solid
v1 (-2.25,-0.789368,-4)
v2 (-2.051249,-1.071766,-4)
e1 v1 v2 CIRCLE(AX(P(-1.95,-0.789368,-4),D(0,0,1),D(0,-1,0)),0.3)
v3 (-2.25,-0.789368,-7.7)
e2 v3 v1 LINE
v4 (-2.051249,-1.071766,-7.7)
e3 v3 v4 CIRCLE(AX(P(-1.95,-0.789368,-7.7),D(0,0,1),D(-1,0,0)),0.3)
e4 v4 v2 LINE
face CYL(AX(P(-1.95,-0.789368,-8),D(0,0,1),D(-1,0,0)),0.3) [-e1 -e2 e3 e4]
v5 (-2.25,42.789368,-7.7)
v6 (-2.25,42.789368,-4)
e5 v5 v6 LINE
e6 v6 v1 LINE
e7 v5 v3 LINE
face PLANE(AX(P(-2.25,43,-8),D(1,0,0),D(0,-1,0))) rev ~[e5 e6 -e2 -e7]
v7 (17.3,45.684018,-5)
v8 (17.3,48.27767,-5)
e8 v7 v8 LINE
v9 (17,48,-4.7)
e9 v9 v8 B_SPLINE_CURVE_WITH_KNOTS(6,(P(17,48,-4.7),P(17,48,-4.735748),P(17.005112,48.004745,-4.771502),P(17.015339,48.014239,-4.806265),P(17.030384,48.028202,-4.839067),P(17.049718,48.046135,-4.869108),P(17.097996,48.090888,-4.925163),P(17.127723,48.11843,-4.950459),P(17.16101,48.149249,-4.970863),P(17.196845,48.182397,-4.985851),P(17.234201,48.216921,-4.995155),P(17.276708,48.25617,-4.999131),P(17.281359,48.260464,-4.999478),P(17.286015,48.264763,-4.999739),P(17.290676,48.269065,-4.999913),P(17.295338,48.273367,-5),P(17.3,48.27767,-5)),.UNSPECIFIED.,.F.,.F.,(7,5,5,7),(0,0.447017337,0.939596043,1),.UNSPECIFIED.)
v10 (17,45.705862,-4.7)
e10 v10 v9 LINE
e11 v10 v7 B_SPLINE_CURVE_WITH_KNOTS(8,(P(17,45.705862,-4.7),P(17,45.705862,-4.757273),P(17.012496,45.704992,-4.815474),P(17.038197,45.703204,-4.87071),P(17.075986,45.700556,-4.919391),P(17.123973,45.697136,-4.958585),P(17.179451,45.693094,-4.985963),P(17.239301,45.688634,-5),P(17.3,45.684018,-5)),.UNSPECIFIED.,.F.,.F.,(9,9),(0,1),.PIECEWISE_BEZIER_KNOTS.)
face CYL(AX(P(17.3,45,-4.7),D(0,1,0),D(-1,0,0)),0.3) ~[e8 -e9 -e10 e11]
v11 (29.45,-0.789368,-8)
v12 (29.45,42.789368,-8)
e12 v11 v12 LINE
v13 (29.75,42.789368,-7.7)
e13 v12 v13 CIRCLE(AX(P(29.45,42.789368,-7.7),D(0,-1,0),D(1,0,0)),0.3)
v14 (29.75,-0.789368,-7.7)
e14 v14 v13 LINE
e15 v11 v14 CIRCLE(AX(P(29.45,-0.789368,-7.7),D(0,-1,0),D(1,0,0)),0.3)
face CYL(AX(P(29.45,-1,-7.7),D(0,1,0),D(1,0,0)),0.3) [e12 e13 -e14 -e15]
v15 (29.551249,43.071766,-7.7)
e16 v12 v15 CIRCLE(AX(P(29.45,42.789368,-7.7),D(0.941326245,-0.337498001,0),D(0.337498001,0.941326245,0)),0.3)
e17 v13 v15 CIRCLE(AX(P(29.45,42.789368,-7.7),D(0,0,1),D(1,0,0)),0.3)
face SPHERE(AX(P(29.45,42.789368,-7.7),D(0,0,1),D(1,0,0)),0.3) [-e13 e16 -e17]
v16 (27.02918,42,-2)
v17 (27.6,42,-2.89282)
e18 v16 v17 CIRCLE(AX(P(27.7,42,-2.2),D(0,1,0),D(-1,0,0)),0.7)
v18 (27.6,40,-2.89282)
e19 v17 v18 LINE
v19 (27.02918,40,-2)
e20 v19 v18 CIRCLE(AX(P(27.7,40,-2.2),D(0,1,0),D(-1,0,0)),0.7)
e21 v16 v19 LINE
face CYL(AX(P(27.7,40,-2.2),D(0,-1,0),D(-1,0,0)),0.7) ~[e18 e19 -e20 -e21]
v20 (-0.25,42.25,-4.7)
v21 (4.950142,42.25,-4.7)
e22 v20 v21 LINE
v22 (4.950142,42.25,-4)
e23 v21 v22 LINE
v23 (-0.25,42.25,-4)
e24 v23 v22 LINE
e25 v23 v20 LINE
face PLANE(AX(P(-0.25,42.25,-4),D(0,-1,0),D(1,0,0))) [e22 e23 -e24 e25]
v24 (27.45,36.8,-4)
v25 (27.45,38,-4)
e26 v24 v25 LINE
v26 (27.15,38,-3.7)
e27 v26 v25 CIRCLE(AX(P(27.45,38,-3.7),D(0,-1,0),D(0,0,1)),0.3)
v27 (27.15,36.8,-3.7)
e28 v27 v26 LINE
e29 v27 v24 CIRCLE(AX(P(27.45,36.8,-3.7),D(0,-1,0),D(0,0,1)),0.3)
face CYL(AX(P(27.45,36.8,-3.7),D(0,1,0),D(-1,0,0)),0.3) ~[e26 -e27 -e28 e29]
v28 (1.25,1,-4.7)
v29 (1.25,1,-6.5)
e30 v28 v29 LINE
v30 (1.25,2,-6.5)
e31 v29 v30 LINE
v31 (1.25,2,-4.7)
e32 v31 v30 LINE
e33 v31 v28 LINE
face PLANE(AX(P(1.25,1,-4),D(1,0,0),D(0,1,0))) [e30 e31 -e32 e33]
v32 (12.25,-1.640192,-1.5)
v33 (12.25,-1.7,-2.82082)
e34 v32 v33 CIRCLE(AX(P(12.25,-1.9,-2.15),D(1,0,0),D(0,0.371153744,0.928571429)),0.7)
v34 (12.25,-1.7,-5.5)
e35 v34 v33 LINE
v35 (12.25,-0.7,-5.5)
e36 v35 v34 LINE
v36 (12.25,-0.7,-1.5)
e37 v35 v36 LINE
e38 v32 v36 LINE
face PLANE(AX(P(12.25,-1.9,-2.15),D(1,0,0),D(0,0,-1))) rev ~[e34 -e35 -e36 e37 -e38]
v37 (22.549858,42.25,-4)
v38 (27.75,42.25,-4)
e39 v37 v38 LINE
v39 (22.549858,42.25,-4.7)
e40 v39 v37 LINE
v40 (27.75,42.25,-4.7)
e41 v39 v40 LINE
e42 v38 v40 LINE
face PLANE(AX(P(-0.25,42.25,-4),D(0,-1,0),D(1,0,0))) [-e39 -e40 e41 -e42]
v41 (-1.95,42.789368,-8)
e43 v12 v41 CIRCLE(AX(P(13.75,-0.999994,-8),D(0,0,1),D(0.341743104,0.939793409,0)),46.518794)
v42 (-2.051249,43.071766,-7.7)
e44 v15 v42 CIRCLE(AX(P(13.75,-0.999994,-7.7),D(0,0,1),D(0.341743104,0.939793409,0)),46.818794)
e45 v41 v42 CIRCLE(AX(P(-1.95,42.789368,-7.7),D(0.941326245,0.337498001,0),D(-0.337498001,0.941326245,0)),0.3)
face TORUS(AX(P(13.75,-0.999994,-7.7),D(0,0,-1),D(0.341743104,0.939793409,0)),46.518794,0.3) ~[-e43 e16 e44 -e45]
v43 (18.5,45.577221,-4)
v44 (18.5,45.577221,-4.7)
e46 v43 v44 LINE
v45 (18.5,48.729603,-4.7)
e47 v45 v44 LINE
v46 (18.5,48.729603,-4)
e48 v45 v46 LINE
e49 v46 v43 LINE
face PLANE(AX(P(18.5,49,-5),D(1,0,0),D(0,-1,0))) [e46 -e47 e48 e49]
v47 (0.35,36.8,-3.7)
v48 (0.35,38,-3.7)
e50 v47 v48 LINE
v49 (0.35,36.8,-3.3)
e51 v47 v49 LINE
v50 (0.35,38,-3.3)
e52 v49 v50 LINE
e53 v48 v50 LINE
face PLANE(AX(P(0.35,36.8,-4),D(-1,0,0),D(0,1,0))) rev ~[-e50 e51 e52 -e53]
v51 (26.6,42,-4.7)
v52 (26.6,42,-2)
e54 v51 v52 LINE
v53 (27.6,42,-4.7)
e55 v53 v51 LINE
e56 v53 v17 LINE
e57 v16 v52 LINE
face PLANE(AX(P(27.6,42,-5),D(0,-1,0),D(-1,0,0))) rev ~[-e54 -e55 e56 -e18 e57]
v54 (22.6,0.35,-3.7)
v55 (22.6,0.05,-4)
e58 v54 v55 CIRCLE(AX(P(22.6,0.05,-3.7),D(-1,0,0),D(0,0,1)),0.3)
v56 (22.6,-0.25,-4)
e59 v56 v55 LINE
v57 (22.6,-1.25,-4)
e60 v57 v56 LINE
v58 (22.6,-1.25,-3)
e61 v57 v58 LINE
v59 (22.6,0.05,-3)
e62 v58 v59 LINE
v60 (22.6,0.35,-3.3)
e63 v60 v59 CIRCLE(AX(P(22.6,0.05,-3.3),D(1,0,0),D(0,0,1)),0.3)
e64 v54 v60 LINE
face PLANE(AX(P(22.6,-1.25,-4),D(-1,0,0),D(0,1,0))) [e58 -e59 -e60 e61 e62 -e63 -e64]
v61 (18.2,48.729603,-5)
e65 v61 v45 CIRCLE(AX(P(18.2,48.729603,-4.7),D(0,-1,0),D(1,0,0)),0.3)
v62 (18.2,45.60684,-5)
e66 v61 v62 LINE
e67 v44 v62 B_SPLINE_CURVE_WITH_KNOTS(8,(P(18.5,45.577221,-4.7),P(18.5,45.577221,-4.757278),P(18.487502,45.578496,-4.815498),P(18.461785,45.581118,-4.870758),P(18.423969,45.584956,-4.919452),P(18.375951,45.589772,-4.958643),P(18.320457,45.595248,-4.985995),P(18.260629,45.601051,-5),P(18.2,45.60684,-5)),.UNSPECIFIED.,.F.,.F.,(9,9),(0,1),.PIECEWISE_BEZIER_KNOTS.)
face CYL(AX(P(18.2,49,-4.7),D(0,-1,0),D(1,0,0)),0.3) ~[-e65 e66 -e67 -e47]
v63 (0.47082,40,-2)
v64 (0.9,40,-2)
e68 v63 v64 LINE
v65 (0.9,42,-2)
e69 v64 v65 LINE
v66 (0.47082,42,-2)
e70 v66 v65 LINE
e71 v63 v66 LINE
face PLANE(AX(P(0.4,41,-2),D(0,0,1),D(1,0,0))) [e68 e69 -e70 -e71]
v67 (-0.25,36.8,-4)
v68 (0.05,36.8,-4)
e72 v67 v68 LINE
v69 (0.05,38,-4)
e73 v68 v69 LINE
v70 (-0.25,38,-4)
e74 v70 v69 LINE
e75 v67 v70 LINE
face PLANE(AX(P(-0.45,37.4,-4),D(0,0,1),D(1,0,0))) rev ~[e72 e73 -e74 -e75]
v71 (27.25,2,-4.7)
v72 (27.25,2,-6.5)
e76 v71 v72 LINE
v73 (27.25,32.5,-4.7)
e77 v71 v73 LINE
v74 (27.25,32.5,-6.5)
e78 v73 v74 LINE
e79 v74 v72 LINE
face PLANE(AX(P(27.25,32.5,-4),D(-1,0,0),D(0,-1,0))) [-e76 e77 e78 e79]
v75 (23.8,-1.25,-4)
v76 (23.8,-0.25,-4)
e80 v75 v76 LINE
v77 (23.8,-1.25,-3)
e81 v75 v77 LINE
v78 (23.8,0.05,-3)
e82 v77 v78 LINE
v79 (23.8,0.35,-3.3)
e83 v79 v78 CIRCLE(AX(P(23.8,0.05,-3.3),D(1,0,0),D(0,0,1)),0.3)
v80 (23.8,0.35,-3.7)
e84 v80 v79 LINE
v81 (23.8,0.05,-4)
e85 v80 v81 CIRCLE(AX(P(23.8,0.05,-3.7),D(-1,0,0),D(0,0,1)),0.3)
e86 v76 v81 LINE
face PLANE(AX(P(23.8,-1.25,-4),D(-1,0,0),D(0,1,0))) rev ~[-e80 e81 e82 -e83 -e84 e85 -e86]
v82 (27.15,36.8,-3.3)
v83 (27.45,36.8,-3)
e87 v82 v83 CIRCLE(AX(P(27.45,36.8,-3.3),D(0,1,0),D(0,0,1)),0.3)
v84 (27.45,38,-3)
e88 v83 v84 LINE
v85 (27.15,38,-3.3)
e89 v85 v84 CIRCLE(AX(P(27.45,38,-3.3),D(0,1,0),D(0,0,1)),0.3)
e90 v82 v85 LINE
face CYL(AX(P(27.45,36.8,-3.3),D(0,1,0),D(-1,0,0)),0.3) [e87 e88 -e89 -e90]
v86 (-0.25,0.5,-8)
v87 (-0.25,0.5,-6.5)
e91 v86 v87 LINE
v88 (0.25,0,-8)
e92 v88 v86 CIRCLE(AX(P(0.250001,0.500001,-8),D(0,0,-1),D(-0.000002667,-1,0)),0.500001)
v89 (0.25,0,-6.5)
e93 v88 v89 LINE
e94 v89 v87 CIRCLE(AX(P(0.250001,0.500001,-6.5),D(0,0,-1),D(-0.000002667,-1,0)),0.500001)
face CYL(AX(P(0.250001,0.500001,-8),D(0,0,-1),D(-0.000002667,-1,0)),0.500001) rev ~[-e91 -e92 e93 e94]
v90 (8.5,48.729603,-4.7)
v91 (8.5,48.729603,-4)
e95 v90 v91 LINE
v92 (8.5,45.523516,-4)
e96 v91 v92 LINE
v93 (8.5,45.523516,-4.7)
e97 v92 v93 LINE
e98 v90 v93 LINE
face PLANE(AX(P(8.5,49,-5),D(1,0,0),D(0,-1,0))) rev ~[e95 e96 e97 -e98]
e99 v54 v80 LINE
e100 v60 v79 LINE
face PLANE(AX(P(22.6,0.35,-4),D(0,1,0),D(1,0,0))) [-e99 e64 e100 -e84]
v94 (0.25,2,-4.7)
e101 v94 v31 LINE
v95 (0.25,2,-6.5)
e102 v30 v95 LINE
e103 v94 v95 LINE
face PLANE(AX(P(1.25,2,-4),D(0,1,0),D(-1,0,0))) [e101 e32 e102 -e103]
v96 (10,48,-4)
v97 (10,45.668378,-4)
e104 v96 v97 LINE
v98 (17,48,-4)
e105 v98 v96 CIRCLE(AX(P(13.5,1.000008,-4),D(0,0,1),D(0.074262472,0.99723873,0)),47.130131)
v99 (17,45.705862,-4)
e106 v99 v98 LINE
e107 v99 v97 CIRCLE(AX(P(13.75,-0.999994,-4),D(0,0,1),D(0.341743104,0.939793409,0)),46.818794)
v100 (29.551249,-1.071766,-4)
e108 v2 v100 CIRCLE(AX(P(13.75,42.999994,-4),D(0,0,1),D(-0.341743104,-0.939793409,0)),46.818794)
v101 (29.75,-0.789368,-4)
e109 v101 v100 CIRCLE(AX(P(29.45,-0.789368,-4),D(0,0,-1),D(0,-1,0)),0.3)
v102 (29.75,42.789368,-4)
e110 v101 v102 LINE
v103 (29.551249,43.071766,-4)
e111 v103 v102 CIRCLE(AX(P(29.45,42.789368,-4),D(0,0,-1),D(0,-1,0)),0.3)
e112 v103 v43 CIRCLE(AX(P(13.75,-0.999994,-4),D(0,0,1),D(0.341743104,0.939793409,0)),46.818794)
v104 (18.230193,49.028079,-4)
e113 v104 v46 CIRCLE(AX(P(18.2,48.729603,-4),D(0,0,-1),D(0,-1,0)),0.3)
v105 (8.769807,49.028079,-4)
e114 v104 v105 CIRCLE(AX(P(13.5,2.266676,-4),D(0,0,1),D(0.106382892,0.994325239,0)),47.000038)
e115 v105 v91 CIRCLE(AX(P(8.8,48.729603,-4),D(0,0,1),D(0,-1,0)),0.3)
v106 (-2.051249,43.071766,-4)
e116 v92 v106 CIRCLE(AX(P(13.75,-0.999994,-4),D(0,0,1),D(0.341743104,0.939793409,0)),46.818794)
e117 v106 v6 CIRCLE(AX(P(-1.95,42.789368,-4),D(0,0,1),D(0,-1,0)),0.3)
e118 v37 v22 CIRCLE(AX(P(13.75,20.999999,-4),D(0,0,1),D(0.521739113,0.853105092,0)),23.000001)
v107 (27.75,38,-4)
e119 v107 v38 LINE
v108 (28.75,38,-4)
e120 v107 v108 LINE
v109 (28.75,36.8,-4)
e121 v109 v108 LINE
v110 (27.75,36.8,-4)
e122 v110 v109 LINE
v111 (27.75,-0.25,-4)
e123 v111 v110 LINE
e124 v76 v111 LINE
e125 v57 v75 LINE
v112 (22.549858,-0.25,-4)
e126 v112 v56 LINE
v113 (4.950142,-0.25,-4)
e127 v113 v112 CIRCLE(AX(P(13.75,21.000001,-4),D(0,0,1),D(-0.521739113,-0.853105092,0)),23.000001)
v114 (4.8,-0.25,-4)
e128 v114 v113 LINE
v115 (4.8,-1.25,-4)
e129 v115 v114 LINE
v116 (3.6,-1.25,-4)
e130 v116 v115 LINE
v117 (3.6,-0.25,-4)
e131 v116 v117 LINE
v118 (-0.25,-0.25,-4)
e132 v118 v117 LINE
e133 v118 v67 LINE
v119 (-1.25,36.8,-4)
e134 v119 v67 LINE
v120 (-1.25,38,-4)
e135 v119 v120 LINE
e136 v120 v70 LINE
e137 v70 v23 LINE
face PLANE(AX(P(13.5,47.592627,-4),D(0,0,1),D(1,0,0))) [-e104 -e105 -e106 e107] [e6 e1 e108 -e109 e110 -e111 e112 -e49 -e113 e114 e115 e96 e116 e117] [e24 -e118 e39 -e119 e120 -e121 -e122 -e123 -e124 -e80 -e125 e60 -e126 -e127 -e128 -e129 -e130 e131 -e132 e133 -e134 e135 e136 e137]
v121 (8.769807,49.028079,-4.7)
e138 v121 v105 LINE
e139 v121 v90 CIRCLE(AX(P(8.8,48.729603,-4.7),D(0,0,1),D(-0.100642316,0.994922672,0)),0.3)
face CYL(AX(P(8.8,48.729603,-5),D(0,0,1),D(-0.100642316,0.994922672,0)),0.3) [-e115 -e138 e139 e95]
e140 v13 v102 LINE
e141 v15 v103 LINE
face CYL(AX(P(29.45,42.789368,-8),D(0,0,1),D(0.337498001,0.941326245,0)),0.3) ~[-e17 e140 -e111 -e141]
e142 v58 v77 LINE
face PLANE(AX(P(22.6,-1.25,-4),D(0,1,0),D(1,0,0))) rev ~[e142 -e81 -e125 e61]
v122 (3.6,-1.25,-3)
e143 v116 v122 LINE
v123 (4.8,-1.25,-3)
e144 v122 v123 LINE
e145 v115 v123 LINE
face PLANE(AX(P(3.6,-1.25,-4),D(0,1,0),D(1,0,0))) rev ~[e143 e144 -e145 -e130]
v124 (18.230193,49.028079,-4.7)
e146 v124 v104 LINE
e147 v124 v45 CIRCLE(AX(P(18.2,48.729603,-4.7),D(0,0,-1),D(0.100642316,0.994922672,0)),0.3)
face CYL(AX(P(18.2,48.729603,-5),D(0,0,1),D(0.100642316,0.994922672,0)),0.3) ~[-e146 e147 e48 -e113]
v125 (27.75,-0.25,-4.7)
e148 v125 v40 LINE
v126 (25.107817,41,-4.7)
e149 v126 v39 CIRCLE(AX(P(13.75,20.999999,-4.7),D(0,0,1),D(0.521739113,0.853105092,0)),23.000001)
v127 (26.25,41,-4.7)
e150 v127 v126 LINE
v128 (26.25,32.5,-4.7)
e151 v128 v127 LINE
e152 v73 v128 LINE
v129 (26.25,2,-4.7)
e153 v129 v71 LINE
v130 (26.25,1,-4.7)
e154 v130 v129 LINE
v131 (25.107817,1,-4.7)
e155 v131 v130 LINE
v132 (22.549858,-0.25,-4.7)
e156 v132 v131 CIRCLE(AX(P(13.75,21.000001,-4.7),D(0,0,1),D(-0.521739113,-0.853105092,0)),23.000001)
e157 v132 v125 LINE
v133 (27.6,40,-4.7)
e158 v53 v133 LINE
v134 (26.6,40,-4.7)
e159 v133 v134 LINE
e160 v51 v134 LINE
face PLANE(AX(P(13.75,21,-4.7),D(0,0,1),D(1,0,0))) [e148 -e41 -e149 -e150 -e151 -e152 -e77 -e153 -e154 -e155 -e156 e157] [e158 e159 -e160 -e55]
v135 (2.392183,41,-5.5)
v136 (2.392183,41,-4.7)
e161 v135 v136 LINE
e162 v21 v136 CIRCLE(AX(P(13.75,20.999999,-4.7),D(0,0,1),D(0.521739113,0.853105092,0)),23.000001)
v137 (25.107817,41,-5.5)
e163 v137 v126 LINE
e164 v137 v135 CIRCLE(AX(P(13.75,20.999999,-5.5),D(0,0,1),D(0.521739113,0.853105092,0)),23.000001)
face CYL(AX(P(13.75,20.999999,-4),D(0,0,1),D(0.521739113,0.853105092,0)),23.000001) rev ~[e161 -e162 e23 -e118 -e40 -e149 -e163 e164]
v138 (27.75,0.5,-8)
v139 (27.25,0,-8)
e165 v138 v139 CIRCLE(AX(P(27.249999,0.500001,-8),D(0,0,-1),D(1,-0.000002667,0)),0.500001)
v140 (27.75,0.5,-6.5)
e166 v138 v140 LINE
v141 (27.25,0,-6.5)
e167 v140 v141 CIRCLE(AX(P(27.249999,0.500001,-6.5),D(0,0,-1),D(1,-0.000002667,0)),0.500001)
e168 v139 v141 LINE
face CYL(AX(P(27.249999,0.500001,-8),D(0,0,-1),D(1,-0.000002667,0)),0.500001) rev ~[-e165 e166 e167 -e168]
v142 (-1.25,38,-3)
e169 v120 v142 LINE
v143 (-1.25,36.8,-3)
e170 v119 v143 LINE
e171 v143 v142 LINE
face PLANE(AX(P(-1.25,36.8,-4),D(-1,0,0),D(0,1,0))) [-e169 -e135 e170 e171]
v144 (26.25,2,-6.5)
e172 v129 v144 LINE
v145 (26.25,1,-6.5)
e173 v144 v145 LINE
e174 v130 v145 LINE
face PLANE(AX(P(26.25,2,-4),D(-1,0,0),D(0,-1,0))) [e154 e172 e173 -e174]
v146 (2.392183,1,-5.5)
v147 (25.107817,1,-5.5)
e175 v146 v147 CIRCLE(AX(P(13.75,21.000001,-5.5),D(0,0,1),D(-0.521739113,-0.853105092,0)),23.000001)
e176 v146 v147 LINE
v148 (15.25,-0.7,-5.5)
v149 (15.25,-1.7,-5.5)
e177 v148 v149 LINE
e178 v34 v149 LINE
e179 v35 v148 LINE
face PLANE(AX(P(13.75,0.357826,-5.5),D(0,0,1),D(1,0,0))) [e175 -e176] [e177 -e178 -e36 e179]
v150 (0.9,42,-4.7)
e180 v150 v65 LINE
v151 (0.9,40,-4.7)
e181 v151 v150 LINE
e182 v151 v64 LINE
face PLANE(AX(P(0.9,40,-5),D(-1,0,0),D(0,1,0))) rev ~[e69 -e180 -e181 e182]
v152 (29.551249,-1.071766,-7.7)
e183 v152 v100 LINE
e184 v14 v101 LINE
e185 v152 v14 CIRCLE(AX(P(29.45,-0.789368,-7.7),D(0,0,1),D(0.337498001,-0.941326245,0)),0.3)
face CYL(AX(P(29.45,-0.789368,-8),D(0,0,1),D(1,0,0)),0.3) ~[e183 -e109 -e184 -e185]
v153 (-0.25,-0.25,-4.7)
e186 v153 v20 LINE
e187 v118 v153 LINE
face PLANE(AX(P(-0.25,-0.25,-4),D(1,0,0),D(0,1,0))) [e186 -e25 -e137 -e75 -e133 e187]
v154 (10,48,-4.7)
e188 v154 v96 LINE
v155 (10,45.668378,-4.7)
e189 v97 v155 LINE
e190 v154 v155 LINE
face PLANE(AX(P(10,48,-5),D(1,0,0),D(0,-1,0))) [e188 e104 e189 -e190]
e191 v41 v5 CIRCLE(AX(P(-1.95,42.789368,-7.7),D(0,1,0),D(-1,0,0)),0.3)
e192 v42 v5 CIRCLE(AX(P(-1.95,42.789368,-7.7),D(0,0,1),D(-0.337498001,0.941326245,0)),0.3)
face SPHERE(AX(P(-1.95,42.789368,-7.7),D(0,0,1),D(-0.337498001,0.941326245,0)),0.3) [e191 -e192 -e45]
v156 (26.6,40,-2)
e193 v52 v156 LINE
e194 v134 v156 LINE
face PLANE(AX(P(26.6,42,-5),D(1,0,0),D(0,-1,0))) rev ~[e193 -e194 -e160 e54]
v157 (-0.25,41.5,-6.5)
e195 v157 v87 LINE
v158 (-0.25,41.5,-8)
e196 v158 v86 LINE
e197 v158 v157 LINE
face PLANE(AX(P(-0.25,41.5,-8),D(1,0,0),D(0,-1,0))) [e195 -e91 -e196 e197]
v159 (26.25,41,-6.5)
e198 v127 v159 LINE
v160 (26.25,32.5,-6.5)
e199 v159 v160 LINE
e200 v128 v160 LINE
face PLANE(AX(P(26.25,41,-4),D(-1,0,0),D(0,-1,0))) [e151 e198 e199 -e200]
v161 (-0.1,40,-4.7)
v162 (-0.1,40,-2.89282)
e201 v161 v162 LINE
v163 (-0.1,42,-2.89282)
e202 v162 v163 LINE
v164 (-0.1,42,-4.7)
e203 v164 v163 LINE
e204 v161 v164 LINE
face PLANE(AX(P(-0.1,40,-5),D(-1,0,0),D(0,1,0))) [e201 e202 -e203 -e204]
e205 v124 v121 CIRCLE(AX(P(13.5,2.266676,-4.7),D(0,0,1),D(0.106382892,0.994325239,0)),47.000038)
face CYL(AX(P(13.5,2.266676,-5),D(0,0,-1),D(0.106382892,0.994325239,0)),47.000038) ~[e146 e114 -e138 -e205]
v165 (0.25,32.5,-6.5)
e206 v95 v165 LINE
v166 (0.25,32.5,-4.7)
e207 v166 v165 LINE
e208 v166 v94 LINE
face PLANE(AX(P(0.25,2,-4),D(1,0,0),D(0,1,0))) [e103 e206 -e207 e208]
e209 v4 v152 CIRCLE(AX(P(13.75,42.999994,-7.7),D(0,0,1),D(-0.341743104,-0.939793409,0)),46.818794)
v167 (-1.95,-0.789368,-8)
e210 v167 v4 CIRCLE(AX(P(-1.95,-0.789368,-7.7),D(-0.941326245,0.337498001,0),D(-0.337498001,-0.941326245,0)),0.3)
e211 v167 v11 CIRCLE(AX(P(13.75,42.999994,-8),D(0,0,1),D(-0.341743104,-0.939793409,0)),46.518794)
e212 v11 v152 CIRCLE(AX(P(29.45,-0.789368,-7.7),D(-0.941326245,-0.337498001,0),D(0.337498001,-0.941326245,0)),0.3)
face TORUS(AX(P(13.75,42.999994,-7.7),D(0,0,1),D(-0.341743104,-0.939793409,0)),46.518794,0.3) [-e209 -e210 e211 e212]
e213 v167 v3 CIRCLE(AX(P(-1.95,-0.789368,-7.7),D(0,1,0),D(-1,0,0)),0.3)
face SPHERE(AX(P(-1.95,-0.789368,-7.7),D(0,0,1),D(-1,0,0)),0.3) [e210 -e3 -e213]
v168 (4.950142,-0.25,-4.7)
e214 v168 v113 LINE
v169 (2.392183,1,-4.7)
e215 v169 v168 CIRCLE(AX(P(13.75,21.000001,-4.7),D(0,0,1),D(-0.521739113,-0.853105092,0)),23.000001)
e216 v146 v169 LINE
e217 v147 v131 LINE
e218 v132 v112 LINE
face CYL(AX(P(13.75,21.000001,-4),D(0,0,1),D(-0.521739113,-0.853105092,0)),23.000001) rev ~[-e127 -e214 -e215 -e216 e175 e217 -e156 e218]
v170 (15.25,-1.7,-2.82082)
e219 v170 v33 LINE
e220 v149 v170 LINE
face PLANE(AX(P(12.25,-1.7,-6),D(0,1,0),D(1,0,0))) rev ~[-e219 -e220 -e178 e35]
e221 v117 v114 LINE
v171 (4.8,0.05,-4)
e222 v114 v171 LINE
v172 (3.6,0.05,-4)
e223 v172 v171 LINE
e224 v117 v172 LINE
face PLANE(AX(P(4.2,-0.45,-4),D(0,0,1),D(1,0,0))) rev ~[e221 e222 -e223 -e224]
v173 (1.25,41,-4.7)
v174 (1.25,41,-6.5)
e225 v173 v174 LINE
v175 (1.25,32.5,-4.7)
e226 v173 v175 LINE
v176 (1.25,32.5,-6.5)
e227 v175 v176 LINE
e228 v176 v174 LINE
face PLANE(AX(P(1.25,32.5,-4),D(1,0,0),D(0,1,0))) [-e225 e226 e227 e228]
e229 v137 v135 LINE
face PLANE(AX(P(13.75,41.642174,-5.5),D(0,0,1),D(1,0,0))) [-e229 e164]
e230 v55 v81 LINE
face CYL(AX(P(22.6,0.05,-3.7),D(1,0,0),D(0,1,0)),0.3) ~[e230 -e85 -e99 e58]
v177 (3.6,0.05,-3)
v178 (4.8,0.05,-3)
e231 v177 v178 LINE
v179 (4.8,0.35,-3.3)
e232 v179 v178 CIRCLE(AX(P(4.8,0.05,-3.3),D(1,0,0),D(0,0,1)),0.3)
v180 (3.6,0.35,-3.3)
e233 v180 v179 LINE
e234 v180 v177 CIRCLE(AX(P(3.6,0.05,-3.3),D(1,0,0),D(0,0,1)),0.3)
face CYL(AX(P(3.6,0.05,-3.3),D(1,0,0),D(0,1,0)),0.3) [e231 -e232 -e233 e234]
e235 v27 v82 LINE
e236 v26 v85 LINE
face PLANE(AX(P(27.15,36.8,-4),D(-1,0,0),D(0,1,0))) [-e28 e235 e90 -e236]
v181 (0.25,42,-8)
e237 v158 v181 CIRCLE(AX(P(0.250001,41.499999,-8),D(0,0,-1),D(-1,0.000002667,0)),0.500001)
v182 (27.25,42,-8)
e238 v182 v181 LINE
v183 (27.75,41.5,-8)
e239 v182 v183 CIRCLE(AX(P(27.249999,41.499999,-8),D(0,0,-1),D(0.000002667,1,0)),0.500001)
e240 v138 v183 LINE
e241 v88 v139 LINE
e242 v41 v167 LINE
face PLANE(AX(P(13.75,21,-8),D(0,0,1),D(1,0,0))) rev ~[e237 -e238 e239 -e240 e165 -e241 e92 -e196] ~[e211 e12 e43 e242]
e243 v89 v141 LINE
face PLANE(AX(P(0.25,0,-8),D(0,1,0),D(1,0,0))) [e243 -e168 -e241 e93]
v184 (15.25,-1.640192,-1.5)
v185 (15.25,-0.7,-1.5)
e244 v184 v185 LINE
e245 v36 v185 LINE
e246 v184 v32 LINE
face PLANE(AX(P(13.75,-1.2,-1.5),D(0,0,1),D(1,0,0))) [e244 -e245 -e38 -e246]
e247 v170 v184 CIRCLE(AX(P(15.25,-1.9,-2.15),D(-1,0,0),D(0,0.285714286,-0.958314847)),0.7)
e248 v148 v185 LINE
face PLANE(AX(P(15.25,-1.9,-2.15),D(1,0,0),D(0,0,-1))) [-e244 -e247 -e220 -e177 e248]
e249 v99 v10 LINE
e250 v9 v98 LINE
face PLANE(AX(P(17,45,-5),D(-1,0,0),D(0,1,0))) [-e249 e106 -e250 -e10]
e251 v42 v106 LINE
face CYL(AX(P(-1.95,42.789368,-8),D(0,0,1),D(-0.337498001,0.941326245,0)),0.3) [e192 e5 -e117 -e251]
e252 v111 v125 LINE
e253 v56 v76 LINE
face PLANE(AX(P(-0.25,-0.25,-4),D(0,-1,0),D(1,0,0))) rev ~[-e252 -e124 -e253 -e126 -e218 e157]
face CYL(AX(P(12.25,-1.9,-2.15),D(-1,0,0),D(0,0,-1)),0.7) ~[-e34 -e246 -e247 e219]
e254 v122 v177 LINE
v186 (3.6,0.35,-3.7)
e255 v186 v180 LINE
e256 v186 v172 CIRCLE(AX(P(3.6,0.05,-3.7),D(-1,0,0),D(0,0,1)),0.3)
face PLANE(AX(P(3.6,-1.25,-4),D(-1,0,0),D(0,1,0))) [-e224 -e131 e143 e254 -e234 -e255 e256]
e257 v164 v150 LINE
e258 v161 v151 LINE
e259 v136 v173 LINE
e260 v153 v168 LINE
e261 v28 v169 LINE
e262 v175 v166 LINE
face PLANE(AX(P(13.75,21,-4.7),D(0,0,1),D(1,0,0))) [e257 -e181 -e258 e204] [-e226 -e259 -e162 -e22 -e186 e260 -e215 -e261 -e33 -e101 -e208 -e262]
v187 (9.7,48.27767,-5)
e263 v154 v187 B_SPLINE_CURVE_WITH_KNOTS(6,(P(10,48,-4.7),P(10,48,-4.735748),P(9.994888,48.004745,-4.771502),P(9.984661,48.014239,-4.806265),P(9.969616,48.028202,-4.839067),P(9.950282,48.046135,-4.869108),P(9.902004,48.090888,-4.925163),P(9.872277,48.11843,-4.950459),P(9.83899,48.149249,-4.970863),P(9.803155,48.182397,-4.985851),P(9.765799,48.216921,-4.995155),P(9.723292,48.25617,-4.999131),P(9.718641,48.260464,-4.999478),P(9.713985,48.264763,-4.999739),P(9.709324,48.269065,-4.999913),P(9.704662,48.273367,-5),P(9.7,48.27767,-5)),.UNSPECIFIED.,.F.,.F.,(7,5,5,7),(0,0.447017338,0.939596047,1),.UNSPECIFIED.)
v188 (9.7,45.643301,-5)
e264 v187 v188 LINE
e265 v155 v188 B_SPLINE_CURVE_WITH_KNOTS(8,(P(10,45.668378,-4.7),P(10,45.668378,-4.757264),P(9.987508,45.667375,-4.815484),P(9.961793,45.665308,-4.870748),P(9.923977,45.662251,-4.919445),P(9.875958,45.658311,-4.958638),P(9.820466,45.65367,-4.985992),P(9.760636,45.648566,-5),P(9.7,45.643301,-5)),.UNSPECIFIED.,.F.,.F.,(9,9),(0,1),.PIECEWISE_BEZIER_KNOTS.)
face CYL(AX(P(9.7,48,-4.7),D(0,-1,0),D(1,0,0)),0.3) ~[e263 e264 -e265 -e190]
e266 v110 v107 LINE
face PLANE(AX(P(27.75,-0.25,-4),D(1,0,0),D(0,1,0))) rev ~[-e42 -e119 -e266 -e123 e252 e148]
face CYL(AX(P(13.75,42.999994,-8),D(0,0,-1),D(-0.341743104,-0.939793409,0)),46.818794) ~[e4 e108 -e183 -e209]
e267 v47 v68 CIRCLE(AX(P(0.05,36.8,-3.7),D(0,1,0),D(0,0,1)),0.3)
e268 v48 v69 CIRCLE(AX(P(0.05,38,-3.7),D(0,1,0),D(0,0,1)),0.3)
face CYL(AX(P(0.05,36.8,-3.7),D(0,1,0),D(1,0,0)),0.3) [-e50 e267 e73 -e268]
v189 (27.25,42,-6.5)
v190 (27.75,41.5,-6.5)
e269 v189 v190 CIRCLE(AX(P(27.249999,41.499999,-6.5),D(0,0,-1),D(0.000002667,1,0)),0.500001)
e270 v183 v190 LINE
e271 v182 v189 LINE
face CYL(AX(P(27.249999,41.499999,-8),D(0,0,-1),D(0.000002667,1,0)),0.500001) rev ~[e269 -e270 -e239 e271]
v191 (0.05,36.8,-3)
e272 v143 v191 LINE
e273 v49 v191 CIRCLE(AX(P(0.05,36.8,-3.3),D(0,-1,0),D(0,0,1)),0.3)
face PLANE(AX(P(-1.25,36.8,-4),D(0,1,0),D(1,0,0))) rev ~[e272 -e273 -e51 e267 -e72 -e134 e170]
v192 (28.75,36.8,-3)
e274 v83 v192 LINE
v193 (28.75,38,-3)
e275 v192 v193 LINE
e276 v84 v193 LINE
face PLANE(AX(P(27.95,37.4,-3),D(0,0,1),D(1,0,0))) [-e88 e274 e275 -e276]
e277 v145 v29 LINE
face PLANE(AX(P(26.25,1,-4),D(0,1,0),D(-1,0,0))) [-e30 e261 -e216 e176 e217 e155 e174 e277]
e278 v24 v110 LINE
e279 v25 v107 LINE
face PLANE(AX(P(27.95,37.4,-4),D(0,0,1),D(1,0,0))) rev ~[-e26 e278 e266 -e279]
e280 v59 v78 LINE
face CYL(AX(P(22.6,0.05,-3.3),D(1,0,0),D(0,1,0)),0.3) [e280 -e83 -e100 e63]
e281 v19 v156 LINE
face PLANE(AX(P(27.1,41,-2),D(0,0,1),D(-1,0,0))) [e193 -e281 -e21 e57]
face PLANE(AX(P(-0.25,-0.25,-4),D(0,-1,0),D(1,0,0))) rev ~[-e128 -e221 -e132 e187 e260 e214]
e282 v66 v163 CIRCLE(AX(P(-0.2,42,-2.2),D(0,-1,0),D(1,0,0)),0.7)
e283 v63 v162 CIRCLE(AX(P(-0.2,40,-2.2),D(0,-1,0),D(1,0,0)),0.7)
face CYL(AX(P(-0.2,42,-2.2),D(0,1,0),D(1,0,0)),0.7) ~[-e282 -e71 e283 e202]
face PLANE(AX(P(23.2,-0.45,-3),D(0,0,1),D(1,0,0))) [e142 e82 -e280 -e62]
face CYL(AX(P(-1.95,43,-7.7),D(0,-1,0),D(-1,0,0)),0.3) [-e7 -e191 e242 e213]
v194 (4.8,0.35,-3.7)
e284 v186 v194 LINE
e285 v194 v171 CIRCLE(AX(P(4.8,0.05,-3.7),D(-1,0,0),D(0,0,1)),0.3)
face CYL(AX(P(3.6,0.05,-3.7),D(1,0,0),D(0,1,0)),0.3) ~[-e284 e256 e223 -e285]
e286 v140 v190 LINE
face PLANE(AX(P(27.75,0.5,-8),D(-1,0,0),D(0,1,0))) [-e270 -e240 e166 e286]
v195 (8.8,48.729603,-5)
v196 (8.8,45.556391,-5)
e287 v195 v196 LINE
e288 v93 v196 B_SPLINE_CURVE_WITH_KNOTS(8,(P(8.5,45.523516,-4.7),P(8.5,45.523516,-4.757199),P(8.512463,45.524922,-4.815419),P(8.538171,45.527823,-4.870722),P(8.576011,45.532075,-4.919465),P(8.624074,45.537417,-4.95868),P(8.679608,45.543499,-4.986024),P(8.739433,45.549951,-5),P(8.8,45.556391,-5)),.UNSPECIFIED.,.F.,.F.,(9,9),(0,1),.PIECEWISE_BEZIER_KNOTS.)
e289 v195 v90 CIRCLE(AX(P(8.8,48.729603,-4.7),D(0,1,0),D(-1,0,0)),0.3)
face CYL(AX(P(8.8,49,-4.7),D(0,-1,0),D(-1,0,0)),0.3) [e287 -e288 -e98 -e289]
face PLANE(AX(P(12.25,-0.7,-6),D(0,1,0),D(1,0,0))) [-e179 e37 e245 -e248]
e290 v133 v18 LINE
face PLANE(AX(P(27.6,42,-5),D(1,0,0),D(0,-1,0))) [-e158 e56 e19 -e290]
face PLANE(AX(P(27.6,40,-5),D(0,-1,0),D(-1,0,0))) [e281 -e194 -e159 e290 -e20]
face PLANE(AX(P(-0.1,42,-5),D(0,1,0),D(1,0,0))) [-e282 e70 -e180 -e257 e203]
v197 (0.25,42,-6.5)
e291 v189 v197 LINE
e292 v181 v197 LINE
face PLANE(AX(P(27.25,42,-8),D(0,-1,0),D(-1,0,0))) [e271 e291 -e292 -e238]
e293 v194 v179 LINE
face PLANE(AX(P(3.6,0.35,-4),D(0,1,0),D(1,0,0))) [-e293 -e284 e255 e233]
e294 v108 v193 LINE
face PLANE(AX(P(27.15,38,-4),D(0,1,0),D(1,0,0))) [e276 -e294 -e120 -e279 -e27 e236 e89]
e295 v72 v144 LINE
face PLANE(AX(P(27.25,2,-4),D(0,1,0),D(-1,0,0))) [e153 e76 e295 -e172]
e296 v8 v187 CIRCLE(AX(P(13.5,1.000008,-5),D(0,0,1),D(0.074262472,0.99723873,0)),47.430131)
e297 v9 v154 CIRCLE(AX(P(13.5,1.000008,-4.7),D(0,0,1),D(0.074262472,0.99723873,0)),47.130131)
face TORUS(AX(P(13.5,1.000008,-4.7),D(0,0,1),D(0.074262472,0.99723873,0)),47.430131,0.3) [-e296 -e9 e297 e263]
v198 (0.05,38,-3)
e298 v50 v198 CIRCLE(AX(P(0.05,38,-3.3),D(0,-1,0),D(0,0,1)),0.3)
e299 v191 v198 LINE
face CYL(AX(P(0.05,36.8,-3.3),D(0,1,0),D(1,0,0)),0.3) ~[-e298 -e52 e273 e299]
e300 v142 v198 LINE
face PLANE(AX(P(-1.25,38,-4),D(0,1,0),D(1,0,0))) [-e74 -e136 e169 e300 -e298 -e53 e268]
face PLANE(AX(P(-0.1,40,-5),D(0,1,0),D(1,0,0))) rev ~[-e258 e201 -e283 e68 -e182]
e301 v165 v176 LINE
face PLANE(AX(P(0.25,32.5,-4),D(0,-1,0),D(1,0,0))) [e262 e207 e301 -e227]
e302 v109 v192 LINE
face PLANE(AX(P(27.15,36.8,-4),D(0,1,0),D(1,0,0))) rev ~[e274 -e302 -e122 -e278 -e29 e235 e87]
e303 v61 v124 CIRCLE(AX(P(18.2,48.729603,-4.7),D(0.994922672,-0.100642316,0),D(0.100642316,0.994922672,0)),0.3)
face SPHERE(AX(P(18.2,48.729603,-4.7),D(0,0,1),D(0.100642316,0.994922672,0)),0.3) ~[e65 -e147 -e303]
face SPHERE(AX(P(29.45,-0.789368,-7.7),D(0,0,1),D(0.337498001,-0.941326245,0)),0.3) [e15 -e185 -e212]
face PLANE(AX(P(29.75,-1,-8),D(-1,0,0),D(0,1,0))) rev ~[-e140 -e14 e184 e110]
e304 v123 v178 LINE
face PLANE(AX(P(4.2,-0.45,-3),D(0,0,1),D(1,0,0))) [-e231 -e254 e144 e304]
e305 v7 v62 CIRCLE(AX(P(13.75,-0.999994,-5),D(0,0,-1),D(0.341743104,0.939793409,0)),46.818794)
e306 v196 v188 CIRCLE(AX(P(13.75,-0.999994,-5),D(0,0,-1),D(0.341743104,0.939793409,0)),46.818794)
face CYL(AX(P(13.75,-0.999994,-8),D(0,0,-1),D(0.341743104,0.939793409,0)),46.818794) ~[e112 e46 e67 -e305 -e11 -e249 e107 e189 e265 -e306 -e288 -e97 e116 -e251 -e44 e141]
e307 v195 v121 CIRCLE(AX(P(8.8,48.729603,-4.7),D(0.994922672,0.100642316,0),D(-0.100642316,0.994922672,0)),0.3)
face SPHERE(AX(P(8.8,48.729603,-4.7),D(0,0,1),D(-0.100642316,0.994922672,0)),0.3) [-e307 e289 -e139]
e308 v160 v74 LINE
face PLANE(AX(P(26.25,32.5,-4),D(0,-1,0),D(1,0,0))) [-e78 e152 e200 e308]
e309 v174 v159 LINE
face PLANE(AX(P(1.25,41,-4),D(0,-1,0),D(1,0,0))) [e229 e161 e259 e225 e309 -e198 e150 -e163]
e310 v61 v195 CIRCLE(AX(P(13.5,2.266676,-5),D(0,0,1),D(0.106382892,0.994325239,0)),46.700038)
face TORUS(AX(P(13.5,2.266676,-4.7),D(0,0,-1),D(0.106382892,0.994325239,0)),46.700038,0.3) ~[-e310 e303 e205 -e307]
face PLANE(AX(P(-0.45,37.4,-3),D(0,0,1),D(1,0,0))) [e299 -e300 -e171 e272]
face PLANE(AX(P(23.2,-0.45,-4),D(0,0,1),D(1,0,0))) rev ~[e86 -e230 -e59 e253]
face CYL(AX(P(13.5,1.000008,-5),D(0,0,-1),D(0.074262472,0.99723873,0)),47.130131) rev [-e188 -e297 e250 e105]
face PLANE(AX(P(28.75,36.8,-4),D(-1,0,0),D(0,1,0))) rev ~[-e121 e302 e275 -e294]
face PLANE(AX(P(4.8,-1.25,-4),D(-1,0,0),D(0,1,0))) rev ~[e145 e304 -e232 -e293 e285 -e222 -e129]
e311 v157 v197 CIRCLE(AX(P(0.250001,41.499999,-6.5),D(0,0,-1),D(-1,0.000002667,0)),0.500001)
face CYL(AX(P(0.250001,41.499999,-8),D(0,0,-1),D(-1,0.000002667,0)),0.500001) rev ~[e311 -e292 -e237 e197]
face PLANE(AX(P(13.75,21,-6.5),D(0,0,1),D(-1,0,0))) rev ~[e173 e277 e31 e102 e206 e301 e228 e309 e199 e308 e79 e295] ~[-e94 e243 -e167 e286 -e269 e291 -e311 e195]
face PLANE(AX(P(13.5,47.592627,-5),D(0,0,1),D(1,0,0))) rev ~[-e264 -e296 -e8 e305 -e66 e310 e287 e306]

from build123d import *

# Parameters (mm, degrees)
CYLINDER001_R             = 0.7
CYLINDER001_DEPTH         = 2
CYLINDER001_ROLL_ANGLE    = 90
BOX005_W                  = 1
BOX005_H                  = 2
BOX005_DEPTH              = 3
FUSION002_PLACEMENT_ANGLE = 180
CYLINDER003_R             = 0.7
CYLINDER003_DEPTH         = 3
CYLINDER003_PITCH_ANGLE   = 90
BOX007_W                  = 3
BOX007_H                  = 1
BOX007_DEPTH              = 4.5
SKETCH023_W               = 1.2
SKETCH023_H               = 1.6
SKETCH023_W_2             = 1.6
SKETCH023_H_2             = 1.2
PAD005_DEPTH              = 1
FILLET010_R               = 0.3
PAD001_DEPTH              = 4
POCKET_DEPTH              = 1.5
POCKET001_DEPTH           = 3.5
SKETCH004_W               = 28
SKETCH004_H               = 42.5
POCKET002_DEPTH           = 0.7
POCKET005_DEPTH           = 1.5
FILLET007_R               = 0.3
PAD006_DEPTH              = 1
FILLET008_R               = 0.3
CYLINDER002_R             = 0.7
CYLINDER002_DEPTH         = 2
CYLINDER002_ROLL_ANGLE    = 90
BOX006_W                  = 1
BOX006_H                  = 2
BOX006_DEPTH              = 3


with BuildPart() as cylinder:
    # Cylinder001 → Cylinder001 (new body)
    with BuildSketch(Plane.XY):
        Circle(CYLINDER001_R)
    extrude(amount=CYLINDER001_DEPTH)


with BuildPart() as cylinder_1:
    # Cylinder001 roll: moved
    add(cylinder.part.rotate(Axis((0, 0, 0), (1, 0, 0)), CYLINDER001_ROLL_ANGLE))


with BuildPart() as cylinder_2:
    # Cylinder001 placement: moved
    add(cylinder_1.part.moved(Location((-0.2, 42, 1.8))))


with BuildPart() as fusion002:
    # Box005 → Box005 (new body)
    with BuildSketch(Plane(origin=(-0.1, 40, -1), x_dir=(1, 0, 0), z_dir=(0, 0, 1))):
        with Locations((0.5, 1)):
            Rectangle(BOX005_W, BOX005_H)
    extrude(amount=BOX005_DEPTH)

    # Fusion002: union Cylinder
    add(cylinder_2.part)


with BuildPart() as fusion002_1:
    # Fusion002 placement: moved
    add(fusion002.part.moved(Location((27.5, 82, 0))).rotate(Axis((27.5, 82, 0), (0, 0, 1)), FUSION002_PLACEMENT_ANGLE))


with BuildPart() as cylinder002:
    # Cylinder003 → Cylinder003 (new body)
    with BuildSketch(Plane.XY):
        Circle(CYLINDER003_R)
    extrude(amount=CYLINDER003_DEPTH)


with BuildPart() as cylinder002_1:
    # Cylinder003 pitch: moved
    add(cylinder002.part.rotate(Axis((0, 0, 0), (0, 1, 0)), CYLINDER003_PITCH_ANGLE))


with BuildPart() as cylinder002_2:
    # Cylinder003 placement: moved
    add(cylinder002_1.part.moved(Location((12.25, -1.9, 1.85))))


with BuildPart() as fusion_conn_top:
    # Box007 → Box007 (new body)
    with BuildSketch(Plane(origin=(12.25, -1.7, -2), x_dir=(1, 0, 0), z_dir=(0, 0, 1))):
        with Locations((1.5, 0.5)):
            Rectangle(BOX007_W, BOX007_H)
    extrude(amount=BOX007_DEPTH)

    # Fusion004: union Cylinder002
    add(cylinder002_2.part)


with BuildPart() as fillet010:
    # Sketch023 → Pad005 (new body)
    with BuildSketch(Plane.XY):
        with Locations((4.2, -0.45)):
            Rectangle(SKETCH023_W, SKETCH023_H)
        with Locations((23.2, -0.45)):
            Rectangle(SKETCH023_W, SKETCH023_H)
        with Locations((-0.45, 37.4)):
            Rectangle(SKETCH023_W_2, SKETCH023_H_2)
        with Locations((27.95, 37.4)):
            Rectangle(SKETCH023_W_2, SKETCH023_H_2)
    extrude(amount=PAD005_DEPTH)

    # Fillet010
    fillet010_edges = [fillet010.edges().sort_by_distance(p)[0] for p in [
        (27.15, 37.4, 0),
        (27.15, 37.4, 1),
        (0.35, 37.4, 0),
        (0.35, 37.4, 1),
        (4.2, 0.35, 0),
        (4.2, 0.35, 1),
        (23.2, 0.35, 0),
        (23.2, 0.35, 1),
    ]]
    fillet(fillet010_edges, radius=FILLET010_R)


with BuildPart() as fillet007_top:
    # Sketch → Pad001 (new body)
    with BuildSketch(Plane(origin=(13.75, 21, -4), x_dir=(1, 0, 0), z_dir=(0, 0, 1))):
        with BuildLine():
            ThreePointArc((16, 22), (0, 24.8188), (-16, 22))
            Line((-16, 22), (-16, -22))
            ThreePointArc((-16, -22), (0, -24.8188), (16, -22))
            Line((16, -22), (16, 22))
        make_face()
    extrude(amount=PAD001_DEPTH)

    # Sketch002 → Pocket (cut)
    with BuildSketch(Plane(origin=(13.75, 21, -4), x_dir=(1, 0, 0), z_dir=(0, 0, -1))):
        with BuildLine():
            Line((-13.5, 21), (13.5, 21))
            ThreePointArc((14, 20.5), (13.853553, 20.853553), (13.5, 21))
            Line((14, 20.5), (14, -20.5))
            ThreePointArc((13.5, -21), (13.853553, -20.853553), (14, -20.5))
            Line((13.5, -21), (-13.5, -21))
            ThreePointArc((-14, -20.5), (-13.853553, -20.853553), (-13.5, -21))
            Line((-14, -20.5), (-14, 20.5))
            ThreePointArc((-13.5, 21), (-13.853553, 20.853553), (-14, 20.5))
        make_face()
    extrude(amount=-POCKET_DEPTH, mode=Mode.SUBTRACT)

    # Sketch003 → Pocket001 (cut)
    with BuildSketch(Plane(origin=(13.75, 21, 0), x_dir=(1, 0, 0), z_dir=(0, 0, 1))):
        Polygon((-13.5, -19), (-13.5, 11.5), (-12.5, 11.5), (-12.5, 20), (12.5, 20), (12.5, 11.5), (13.5, 11.5), (13.5, -19), (12.5, -19), (12.5, -20), (-12.5, -20), (-12.5, -19), align=None)
    extrude(amount=-POCKET001_DEPTH, mode=Mode.SUBTRACT)

    # Sketch004 → Pocket002 (cut)
    with BuildSketch(Plane(origin=(13.75, 21, 0), x_dir=(1, 0, 0), z_dir=(0, 0, 1))):
        Rectangle(SKETCH004_W, SKETCH004_H)
    extrude(amount=-POCKET002_DEPTH, mode=Mode.SUBTRACT)

    # Sketch008 → Pocket005 (cut)
    with BuildSketch(Plane(origin=(13.75, 21, 0), x_dir=(1, 0, 0), z_dir=(0, 0, 1))):
        with BuildLine():
            ThreePointArc((12, 19.621417), (0, 23), (-12, 19.621417))
            Line((-12, 19.621417), (12, 19.621417))
        make_face()
        with BuildLine():
            ThreePointArc((-12, -19.621417), (0, -23), (12, -19.621417))
            Line((-12, -19.621417), (12, -19.621417))
        make_face()
    extrude(amount=-POCKET005_DEPTH, mode=Mode.SUBTRACT)

    # Fillet007
    fillet007_edges = [fillet007_top.edges().sort_by_distance(p)[0] for p in [
        (-2.25, 21, -4),
        (-2.25, 43, -2),
        (13.75, 45.8188, -4),
        (29.75, 43, -2),
        (29.75, 21, -4),
        (29.75, -1, -2),
        (13.75, -3.8188, -4),
        (-2.25, -1, -2),
    ]]
    fillet(fillet007_edges, radius=FILLET007_R)


with BuildPart() as fillet008_hanger_top:
    # Sketch019 → Pad006 (new body)
    with BuildSketch(Plane(origin=(13.5, 1, -1), x_dir=(1, 0, 0), z_dir=(0, 0, 1))):
        with BuildLine():
            ThreePointArc((5, 48), (0, 48.266714), (-5, 48))
            Line((-5, 48), (-5, 44))
            Line((-5, 44), (-3.5, 44))
            Line((-3.5, 47), (-3.5, 44))
            ThreePointArc((3.5, 47), (0, 47.130139), (-3.5, 47))
            Line((3.5, 44), (3.5, 47))
            Line((5, 44), (3.5, 44))
            Line((5, 48), (5, 44))
        make_face()
    extrude(amount=PAD006_DEPTH)

    # Fillet008
    fillet008_edges = [fillet008_hanger_top.edges().sort_by_distance(p)[0] for p in [
        (18.5, 47, -1),
        (17, 46.5, -1),
        (18.5, 49, -0.5),
        (13.5, 49.266714, -1),
        (13.5, 48.130139, -1),
        (10, 46.5, -1),
        (8.5, 47, -1),
        (8.5, 49, -0.5),
    ]]
    fillet(fillet008_edges, radius=FILLET008_R)


with BuildPart() as cylinder001:
    # Cylinder002 → Cylinder002 (new body)
    with BuildSketch(Plane.XY):
        Circle(CYLINDER002_R)
    extrude(amount=CYLINDER002_DEPTH)


with BuildPart() as cylinder001_1:
    # Cylinder002 roll: moved
    add(cylinder001.part.rotate(Axis((0, 0, 0), (1, 0, 0)), CYLINDER002_ROLL_ANGLE))


with BuildPart() as cylinder001_2:
    # Cylinder002 placement: moved
    add(cylinder001_1.part.moved(Location((-0.2, 42, 1.8))))


with BuildPart() as fusion016:
    # Box006 → Box006 (new body)
    with BuildSketch(Plane(origin=(-0.1, 40, -1), x_dir=(1, 0, 0), z_dir=(0, 0, 1))):
        with Locations((0.5, 1)):
            Rectangle(BOX006_W, BOX006_H)
    extrude(amount=BOX006_DEPTH)

    # Fusion015: union Cylinder001
    add(cylinder001_2.part)

    # Fusion016: union Fusion002, Fusion-conn-top, Fillet010, Fillet007-top, Fillet008-hanger-top
    add(fusion002_1.part)
    add(fusion_conn_top.part)
    add(fillet010.part)
    add(fillet007_top.part)
    add(fillet008_hanger_top.part)


with BuildPart() as fusion016_1:
    # Fusion016 placement: moved
    add(fusion016.part.moved(Location((0, 0, -4))))


solid = fusion016_1.part
